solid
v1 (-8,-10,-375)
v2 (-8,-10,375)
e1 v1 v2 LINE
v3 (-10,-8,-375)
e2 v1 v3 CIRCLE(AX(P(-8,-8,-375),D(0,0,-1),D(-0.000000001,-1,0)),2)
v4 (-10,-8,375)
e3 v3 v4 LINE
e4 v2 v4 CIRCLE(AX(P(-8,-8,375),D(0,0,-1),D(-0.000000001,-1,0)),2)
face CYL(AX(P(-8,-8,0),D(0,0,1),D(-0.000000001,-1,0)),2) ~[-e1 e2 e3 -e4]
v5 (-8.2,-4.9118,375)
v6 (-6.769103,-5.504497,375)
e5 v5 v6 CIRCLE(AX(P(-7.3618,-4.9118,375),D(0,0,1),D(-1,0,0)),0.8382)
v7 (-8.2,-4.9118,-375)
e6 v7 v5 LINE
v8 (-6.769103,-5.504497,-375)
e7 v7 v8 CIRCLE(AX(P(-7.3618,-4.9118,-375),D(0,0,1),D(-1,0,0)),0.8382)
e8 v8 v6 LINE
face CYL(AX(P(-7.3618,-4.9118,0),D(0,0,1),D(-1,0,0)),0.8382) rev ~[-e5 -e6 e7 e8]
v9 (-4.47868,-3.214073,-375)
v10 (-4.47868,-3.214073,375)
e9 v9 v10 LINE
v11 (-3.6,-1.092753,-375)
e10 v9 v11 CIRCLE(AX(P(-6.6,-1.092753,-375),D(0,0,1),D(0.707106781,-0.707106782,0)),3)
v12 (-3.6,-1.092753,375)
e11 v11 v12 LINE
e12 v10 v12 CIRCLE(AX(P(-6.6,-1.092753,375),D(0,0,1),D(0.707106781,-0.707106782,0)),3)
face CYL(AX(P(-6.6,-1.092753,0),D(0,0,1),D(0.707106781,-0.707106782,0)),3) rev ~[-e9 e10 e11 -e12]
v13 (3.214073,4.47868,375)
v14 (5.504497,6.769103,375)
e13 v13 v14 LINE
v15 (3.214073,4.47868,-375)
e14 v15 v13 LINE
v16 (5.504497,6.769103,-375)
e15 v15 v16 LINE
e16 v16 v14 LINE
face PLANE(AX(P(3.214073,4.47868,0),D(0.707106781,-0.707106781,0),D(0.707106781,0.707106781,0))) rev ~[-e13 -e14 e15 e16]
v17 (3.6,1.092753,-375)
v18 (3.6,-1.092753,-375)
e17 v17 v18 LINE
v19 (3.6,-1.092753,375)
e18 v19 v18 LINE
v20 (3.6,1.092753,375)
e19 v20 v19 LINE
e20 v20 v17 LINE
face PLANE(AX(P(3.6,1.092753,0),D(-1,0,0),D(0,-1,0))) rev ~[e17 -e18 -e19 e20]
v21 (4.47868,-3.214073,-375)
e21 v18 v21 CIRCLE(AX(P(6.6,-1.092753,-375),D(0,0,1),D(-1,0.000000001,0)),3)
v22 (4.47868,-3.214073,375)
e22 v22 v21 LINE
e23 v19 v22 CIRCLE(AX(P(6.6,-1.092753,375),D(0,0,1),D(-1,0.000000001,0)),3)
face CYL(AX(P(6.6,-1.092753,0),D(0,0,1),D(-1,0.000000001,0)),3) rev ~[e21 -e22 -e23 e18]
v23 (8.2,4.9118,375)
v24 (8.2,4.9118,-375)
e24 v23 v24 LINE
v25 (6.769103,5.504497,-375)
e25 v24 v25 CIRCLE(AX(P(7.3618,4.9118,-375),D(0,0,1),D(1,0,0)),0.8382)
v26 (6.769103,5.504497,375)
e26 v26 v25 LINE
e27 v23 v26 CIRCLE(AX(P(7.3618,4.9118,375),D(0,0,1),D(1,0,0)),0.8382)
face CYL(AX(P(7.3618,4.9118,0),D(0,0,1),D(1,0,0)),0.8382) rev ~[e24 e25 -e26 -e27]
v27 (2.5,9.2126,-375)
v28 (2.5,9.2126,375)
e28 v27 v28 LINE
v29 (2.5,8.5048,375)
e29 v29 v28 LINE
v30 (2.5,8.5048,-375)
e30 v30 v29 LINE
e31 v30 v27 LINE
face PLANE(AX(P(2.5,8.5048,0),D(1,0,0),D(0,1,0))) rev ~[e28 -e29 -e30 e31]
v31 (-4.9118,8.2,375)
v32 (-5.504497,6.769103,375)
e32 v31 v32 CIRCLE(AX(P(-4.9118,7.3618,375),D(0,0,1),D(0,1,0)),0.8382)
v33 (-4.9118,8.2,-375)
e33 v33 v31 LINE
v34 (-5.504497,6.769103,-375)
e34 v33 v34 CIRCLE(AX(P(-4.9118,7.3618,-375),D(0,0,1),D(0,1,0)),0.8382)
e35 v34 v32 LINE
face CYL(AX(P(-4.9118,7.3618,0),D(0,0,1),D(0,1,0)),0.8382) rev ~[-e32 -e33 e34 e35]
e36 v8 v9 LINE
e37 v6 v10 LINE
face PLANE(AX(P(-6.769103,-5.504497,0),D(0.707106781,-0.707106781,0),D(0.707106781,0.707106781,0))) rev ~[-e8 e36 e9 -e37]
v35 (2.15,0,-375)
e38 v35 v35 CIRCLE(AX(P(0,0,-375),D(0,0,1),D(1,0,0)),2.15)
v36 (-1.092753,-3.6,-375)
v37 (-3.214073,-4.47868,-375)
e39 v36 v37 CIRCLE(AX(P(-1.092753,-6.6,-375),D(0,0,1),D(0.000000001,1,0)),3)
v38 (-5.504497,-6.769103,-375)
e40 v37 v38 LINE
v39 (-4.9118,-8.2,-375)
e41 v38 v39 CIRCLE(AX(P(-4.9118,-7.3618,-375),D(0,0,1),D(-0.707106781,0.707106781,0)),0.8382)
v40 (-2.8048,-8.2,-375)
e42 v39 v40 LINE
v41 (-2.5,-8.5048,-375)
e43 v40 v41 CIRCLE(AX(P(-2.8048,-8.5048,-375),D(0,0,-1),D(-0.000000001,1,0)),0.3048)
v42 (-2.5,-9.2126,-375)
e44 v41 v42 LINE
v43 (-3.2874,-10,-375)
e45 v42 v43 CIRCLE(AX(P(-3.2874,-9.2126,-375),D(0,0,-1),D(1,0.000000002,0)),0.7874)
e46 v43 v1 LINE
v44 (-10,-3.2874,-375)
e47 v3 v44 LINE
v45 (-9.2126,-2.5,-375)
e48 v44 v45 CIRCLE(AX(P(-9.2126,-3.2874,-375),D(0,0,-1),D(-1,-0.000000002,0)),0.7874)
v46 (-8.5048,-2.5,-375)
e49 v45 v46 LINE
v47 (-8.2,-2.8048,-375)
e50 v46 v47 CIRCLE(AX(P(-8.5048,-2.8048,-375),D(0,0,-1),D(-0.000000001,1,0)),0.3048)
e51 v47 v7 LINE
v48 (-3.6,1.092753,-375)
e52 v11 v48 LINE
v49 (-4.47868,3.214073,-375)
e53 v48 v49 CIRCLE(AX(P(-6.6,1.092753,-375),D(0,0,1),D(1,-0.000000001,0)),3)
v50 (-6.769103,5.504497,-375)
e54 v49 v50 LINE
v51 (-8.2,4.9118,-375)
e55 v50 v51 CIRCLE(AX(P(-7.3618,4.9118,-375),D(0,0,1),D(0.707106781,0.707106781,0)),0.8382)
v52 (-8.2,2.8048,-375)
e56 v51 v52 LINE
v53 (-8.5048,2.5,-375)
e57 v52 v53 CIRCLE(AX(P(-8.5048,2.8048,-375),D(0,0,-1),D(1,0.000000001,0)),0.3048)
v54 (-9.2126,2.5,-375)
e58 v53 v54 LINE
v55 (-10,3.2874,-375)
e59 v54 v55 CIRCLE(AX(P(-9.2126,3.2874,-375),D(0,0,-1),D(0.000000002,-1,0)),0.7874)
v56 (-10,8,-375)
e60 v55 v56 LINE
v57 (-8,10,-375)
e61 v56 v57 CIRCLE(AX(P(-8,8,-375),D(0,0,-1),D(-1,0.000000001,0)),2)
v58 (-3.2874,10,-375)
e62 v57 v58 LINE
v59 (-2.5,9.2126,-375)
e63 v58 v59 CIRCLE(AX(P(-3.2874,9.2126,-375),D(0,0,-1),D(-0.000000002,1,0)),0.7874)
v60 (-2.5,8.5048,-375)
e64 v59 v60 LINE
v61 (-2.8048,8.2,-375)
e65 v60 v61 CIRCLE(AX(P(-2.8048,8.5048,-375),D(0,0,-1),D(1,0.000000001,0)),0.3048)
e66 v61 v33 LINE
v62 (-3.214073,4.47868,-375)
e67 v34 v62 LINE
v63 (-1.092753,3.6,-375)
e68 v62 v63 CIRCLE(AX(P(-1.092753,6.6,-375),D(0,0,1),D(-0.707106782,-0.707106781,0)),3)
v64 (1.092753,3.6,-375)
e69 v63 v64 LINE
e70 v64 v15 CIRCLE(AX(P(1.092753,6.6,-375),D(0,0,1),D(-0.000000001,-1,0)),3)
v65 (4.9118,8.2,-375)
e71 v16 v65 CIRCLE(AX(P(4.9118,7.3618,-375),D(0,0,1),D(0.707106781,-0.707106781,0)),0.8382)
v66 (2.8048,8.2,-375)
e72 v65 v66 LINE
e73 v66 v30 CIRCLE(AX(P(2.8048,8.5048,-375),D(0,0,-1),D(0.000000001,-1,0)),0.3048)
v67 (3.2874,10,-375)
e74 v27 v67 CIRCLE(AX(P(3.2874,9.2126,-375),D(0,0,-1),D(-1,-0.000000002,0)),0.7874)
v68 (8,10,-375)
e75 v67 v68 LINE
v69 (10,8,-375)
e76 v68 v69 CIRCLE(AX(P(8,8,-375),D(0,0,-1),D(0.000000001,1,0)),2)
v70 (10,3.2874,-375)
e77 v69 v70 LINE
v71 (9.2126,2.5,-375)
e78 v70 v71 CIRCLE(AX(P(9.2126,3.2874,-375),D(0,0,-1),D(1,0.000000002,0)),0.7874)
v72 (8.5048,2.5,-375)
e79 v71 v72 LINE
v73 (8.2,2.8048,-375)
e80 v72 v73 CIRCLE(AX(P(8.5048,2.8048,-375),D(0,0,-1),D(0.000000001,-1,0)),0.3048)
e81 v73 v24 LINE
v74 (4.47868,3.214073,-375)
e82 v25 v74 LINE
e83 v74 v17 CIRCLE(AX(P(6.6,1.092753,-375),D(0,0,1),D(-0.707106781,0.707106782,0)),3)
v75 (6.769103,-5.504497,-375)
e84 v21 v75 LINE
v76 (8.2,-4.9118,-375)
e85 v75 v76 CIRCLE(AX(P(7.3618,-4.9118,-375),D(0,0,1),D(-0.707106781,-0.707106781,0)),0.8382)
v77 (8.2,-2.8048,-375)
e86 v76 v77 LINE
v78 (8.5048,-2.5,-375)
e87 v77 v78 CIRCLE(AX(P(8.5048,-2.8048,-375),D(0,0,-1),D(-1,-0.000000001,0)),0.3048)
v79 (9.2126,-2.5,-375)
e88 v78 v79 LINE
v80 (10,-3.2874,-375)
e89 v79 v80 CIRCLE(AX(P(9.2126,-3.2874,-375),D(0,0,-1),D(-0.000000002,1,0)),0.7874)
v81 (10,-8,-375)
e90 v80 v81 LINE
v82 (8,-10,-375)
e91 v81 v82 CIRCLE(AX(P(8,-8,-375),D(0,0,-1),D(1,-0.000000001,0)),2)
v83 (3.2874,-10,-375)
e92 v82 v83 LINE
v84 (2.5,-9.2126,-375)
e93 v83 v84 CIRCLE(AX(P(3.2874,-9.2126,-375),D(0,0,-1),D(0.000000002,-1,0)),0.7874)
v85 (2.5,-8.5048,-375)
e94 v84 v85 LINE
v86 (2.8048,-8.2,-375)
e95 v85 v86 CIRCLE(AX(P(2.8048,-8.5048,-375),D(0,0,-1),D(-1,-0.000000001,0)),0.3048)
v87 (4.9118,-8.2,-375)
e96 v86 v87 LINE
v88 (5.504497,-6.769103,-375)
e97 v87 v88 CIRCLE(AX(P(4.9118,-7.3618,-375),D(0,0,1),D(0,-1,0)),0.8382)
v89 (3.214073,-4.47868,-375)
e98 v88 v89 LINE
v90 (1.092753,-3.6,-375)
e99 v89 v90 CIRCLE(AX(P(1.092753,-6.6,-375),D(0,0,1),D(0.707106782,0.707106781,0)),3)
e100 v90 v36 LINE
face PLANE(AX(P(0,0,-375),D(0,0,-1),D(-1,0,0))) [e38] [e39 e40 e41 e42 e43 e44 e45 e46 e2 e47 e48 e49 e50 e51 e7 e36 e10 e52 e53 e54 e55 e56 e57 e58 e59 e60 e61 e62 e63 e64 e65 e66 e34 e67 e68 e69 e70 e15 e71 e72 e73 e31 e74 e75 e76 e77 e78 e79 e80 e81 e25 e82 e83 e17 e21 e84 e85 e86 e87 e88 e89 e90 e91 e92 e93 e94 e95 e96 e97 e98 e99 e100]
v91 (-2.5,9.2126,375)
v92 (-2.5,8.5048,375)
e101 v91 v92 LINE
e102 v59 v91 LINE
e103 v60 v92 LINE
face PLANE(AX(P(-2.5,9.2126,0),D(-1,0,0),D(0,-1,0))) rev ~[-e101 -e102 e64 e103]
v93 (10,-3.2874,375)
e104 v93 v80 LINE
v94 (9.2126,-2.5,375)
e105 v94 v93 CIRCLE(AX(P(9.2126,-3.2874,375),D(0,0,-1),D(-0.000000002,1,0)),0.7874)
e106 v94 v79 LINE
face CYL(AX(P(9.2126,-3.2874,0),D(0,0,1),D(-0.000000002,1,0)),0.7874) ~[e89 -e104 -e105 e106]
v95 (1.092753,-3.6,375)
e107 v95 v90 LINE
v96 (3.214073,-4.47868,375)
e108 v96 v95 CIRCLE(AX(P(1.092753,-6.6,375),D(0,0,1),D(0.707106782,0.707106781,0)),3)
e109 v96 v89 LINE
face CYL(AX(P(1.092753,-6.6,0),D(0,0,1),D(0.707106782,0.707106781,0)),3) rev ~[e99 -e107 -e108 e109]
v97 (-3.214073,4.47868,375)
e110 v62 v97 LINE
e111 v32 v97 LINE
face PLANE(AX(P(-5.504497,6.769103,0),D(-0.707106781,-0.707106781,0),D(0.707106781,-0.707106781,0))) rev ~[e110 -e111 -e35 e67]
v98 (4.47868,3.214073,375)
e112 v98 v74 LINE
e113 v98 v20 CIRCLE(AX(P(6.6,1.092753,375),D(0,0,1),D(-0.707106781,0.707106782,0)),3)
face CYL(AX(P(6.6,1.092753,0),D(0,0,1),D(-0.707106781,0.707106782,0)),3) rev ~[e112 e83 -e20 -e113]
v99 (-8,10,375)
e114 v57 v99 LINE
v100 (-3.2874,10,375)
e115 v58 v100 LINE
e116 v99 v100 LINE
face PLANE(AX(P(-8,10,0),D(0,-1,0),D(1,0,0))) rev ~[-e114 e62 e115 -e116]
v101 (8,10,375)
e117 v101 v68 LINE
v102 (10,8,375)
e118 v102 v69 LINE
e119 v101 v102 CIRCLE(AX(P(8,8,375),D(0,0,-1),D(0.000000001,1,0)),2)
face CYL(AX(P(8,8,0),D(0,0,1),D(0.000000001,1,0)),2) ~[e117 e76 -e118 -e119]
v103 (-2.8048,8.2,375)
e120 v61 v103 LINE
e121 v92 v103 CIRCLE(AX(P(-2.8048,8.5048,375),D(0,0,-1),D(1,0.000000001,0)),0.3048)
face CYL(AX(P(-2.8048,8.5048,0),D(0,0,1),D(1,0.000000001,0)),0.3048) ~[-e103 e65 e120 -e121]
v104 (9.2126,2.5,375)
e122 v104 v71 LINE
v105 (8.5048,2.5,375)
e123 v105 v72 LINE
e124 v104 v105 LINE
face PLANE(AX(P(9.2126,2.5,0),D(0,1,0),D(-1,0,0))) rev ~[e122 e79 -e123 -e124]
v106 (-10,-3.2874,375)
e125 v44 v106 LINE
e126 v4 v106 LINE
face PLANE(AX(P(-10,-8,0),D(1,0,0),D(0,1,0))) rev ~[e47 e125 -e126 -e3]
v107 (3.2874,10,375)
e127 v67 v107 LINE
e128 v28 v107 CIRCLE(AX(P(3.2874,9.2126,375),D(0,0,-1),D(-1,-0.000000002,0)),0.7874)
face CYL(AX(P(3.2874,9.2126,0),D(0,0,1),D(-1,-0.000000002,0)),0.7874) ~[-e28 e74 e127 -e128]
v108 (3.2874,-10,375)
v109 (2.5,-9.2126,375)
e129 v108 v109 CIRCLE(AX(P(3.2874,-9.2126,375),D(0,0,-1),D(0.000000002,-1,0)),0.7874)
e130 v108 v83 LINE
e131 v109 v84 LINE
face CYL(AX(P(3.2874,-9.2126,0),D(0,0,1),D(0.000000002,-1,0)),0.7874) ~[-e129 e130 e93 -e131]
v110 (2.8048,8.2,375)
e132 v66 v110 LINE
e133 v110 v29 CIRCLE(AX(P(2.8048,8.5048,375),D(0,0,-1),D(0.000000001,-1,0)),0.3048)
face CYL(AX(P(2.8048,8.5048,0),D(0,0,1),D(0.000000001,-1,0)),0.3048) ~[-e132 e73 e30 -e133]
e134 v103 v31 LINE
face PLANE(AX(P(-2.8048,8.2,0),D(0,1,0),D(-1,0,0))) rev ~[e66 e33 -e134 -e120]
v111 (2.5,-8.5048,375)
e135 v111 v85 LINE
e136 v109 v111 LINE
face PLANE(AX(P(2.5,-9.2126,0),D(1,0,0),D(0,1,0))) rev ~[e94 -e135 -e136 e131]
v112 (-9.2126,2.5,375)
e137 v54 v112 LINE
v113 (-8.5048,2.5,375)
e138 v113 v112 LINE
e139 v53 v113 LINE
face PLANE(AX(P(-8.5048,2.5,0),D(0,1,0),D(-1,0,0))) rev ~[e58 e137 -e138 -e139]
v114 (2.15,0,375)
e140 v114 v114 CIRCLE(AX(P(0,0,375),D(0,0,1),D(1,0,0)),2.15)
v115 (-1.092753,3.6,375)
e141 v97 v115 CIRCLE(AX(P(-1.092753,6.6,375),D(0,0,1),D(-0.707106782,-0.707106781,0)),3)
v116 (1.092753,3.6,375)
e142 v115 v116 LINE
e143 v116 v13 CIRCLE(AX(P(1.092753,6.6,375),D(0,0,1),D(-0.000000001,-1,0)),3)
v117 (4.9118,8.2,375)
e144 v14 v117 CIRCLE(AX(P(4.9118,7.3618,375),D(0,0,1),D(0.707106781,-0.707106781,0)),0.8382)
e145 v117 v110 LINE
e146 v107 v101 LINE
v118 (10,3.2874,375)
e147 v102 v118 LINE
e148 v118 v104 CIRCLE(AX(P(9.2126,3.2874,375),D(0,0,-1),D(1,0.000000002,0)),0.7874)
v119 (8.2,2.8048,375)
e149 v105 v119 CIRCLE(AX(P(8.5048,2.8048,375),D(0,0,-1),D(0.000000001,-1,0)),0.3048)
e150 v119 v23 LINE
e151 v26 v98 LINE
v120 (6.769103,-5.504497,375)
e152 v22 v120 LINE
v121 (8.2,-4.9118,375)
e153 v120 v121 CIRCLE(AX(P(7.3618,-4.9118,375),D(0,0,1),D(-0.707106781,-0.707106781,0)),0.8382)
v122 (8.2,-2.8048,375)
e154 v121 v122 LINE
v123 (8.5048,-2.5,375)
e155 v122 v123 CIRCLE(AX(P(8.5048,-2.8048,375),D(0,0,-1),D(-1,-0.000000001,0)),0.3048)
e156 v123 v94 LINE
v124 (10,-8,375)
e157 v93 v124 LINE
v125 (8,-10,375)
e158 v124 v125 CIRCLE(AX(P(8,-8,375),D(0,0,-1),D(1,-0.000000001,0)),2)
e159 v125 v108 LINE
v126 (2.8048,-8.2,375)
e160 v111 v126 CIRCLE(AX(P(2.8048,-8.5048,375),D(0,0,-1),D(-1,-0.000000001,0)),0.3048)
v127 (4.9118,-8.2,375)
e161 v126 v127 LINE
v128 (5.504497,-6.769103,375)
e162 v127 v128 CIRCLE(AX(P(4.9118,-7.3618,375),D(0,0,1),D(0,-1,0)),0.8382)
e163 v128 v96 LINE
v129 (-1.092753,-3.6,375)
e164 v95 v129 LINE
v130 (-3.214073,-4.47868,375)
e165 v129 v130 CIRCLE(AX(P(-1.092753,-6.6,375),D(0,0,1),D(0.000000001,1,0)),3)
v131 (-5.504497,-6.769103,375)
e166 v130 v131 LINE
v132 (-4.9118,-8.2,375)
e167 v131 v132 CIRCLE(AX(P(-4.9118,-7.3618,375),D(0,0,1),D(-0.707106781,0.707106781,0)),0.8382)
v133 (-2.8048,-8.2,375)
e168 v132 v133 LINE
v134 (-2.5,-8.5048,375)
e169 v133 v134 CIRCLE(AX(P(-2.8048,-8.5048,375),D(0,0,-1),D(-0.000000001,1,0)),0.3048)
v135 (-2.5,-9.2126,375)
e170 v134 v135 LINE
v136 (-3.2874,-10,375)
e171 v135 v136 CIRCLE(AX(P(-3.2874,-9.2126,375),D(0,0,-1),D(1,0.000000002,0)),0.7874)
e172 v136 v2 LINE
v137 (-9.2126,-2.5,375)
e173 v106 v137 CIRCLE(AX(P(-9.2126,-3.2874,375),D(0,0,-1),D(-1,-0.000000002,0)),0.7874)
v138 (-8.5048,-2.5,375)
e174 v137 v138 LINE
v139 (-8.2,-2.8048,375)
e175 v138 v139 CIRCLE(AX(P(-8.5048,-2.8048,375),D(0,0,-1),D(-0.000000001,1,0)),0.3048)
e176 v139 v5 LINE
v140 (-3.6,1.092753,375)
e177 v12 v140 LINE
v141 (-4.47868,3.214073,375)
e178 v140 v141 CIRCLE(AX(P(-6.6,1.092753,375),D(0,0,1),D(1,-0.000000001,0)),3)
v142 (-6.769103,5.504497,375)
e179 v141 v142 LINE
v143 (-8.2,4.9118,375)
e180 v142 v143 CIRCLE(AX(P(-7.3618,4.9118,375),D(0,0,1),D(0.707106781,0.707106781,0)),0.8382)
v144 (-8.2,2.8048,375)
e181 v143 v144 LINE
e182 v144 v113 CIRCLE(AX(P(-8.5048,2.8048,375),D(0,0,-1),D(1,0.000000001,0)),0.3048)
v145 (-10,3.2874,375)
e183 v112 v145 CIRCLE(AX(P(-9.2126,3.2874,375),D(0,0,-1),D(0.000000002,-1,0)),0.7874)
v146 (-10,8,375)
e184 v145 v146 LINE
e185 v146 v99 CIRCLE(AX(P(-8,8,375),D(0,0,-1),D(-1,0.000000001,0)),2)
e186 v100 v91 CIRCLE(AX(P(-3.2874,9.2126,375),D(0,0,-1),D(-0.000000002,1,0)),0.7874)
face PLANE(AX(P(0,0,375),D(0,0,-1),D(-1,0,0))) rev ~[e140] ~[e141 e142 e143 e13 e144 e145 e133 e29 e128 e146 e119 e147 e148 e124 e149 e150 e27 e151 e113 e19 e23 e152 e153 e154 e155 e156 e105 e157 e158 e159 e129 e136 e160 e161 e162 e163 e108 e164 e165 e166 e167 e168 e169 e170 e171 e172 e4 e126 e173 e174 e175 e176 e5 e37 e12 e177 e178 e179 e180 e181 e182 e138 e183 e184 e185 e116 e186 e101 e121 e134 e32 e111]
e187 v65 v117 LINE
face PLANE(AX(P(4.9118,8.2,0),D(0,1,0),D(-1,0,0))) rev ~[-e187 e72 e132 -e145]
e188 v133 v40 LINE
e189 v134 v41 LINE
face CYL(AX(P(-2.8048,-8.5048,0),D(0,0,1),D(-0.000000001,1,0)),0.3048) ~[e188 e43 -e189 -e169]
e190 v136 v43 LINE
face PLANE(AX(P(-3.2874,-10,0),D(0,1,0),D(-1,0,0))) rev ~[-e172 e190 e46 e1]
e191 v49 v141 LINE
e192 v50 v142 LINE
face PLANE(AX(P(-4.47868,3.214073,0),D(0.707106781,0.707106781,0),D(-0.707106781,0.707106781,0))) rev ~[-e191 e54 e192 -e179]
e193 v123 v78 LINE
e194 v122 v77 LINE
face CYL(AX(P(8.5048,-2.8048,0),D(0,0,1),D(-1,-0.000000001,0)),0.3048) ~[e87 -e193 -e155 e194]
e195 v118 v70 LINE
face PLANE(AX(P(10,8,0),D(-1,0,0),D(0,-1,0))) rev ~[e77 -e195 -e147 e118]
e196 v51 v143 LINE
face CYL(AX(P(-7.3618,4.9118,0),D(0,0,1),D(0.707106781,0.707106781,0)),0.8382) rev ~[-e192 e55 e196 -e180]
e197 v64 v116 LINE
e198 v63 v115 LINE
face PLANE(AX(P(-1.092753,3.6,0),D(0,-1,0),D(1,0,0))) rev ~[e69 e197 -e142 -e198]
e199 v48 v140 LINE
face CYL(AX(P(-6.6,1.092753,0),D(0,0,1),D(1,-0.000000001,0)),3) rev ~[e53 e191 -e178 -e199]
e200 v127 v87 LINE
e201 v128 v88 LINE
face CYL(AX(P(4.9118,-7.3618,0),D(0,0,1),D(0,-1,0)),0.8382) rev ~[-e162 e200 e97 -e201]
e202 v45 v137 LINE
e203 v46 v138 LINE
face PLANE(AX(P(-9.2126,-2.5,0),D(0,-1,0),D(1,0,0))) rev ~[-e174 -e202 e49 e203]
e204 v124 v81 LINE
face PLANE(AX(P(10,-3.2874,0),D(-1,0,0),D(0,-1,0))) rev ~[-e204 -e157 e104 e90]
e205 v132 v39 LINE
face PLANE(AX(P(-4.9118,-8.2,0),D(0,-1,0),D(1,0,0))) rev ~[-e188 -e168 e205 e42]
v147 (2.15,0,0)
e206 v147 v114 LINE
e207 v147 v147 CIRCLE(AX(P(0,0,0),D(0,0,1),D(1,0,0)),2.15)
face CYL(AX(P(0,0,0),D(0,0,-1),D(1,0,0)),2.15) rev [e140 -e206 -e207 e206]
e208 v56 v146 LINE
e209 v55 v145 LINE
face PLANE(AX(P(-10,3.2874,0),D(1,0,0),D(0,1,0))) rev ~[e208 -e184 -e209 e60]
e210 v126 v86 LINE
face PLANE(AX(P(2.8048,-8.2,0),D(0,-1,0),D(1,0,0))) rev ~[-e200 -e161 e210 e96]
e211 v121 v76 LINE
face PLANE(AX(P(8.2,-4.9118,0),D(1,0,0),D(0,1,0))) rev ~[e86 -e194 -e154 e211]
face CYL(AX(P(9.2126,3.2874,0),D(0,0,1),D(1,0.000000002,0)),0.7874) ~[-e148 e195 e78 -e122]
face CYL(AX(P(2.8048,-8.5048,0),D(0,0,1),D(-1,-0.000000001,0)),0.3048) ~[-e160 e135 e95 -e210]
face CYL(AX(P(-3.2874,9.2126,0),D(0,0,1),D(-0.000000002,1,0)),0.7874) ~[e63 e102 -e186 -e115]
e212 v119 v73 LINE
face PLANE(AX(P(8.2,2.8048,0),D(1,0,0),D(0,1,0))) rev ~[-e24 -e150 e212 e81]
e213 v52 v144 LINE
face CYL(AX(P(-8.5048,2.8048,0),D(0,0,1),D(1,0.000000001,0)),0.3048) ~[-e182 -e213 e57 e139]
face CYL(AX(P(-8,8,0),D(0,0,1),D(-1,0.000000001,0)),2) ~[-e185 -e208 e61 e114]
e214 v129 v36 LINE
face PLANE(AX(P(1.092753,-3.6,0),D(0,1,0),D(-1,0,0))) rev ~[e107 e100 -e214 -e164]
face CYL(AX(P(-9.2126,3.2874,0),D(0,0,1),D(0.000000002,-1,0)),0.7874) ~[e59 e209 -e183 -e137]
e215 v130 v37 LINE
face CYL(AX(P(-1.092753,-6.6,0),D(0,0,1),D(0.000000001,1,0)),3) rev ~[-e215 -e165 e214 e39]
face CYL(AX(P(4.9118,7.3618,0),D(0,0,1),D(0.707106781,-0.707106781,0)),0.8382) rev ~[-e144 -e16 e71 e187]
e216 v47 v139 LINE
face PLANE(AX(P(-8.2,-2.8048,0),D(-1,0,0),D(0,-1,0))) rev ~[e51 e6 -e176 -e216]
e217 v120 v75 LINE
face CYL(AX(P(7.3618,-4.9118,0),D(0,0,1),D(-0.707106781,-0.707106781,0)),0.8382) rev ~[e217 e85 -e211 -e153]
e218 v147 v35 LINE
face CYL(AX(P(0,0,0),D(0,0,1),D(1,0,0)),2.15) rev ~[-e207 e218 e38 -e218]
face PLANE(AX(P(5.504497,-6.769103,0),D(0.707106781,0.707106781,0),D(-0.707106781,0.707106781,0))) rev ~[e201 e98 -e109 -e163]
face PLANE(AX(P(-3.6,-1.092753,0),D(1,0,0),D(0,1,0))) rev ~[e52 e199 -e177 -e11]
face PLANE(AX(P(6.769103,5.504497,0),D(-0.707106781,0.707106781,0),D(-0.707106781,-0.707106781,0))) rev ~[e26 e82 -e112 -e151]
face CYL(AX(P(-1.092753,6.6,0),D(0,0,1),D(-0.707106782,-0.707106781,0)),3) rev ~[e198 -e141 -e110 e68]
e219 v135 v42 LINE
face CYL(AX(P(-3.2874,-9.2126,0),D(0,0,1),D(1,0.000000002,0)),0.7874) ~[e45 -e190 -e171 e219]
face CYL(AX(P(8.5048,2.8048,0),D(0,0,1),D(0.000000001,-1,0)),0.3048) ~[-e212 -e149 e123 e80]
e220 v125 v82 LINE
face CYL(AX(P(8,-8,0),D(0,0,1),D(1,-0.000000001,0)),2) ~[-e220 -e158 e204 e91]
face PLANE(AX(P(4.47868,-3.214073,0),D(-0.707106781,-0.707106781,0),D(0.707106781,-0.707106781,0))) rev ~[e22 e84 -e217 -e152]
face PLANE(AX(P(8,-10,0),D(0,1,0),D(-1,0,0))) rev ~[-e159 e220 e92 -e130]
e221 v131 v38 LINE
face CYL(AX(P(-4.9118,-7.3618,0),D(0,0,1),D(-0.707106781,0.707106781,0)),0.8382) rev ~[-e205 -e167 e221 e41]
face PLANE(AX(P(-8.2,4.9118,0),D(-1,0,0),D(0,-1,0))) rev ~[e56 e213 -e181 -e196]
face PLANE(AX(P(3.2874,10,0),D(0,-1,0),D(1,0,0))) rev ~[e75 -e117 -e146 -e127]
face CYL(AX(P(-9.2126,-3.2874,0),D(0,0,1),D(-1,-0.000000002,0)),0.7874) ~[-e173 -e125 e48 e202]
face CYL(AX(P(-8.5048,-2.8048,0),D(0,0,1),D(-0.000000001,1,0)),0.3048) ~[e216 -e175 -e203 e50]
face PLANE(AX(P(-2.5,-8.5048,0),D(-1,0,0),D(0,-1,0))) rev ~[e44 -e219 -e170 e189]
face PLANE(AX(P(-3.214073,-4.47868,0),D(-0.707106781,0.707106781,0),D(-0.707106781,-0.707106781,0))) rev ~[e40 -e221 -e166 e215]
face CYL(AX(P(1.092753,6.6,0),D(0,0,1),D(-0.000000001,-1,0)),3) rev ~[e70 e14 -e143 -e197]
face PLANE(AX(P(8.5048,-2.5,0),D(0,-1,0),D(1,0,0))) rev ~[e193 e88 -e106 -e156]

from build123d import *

# Parameters (mm, degrees)
SKETCH3_R                = 2.15
BOSS_EXTRUDE1_DEPTH      = 375
BOSS_EXTRUDE1_DEPTH_BACK = 375


with BuildPart() as part:
    # Sketch3 → Boss-Extrude1 (new body, two sides)
    with BuildSketch(Plane.XY) as boss_extrude1_sk:
        with BuildLine():
            Line((3.2874, 10), (8, 10))
            ThreePointArc((8, 10), (9.414213562, 9.414213562), (10, 8))
            Line((10, 8), (10, 3.2874))
            ThreePointArc((10, 3.2874), (9.76937588, 2.73062412), (9.2126, 2.5))
            Line((9.2126, 2.5), (8.5048, 2.5))
            ThreePointArc((8.5048, 2.5), (8.289273853, 2.589273853), (8.2, 2.8048))
            Line((8.2, 2.8048), (8.2, 4.9118))
            ThreePointArc((8.2, 4.9118), (7.682565253, 5.686195824), (6.769103096, 5.504496904))
            Line((6.769103096, 5.504496904), (4.478679656, 3.214073464))
            ThreePointArc((4.478679656, 3.214073464), (3.828361402, 2.240803418), (3.6, 1.092753121))
            Line((3.6, 1.092753121), (3.6, -1.092753121))
            ThreePointArc((3.6, -1.092753121), (3.828361402, -2.240803418), (4.478679656, -3.214073464))
            Line((4.478679656, -3.214073464), (6.769103096, -5.504496904))
            ThreePointArc((6.769103096, -5.504496904), (7.682565253, -5.686195824), (8.2, -4.9118))
            Line((8.2, -4.9118), (8.2, -2.8048))
            ThreePointArc((8.2, -2.8048), (8.289273853, -2.589273853), (8.5048, -2.5))
            Line((8.5048, -2.5), (9.2126, -2.5))
            ThreePointArc((9.2126, -2.5), (9.76937588, -2.73062412), (10, -3.2874))
            Line((10, -3.2874), (10, -8))
            ThreePointArc((10, -8), (9.414213562, -9.414213562), (8, -10))
            Line((8, -10), (3.2874, -10))
            ThreePointArc((3.2874, -10), (2.73062412, -9.76937588), (2.5, -9.2126))
            Line((2.5, -9.2126), (2.5, -8.5048))
            ThreePointArc((2.5, -8.5048), (2.589273853, -8.289273853), (2.8048, -8.2))
            Line((2.8048, -8.2), (4.9118, -8.2))
            ThreePointArc((4.9118, -8.2), (5.686195824, -7.682565253), (5.504496904, -6.769103096))
            Line((5.504496904, -6.769103096), (3.214073464, -4.478679656))
            ThreePointArc((3.214073464, -4.478679656), (2.240803418, -3.828361402), (1.092753121, -3.6))
            Line((1.092753121, -3.6), (-1.092753121, -3.6))
            ThreePointArc((-1.092753121, -3.6), (-2.240803418, -3.828361402), (-3.214073464, -4.478679656))
            Line((-3.214073464, -4.478679656), (-5.504496904, -6.769103096))
            ThreePointArc((-5.504496904, -6.769103096), (-5.686195824, -7.682565253), (-4.9118, -8.2))
            Line((-4.9118, -8.2), (-2.8048, -8.2))
            ThreePointArc((-2.8048, -8.2), (-2.589273853, -8.289273853), (-2.5, -8.5048))
            Line((-2.5, -8.5048), (-2.5, -9.2126))
            ThreePointArc((-2.5, -9.2126), (-2.73062412, -9.76937588), (-3.2874, -10))
            Line((-3.2874, -10), (-8, -10))
            ThreePointArc((-8, -10), (-9.414213562, -9.414213562), (-10, -8))
            Line((-10, -8), (-10, -3.2874))
            ThreePointArc((-10, -3.2874), (-9.76937588, -2.73062412), (-9.2126, -2.5))
            Line((-9.2126, -2.5), (-8.5048, -2.5))
            ThreePointArc((-8.5048, -2.5), (-8.289273853, -2.589273853), (-8.2, -2.8048))
            Line((-8.2, -2.8048), (-8.2, -4.9118))
            ThreePointArc((-8.2, -4.9118), (-7.682565253, -5.686195824), (-6.769103096, -5.504496904))
            Line((-6.769103096, -5.504496904), (-4.478679656, -3.214073464))
            ThreePointArc((-4.478679656, -3.214073464), (-3.828361402, -2.240803418), (-3.6, -1.092753121))
            Line((-3.6, -1.092753121), (-3.6, 1.092753121))
            ThreePointArc((-3.6, 1.092753121), (-3.828361402, 2.240803418), (-4.478679656, 3.214073464))
            Line((-4.478679656, 3.214073464), (-6.769103096, 5.504496904))
            ThreePointArc((-6.769103096, 5.504496904), (-7.682565253, 5.686195824), (-8.2, 4.9118))
            Line((-8.2, 4.9118), (-8.2, 2.8048))
            ThreePointArc((-8.2, 2.8048), (-8.289273853, 2.589273853), (-8.5048, 2.5))
            Line((-8.5048, 2.5), (-9.2126, 2.5))
            ThreePointArc((-9.2126, 2.5), (-9.76937588, 2.73062412), (-10, 3.2874))
            Line((-10, 3.2874), (-10, 8))
            ThreePointArc((-10, 8), (-9.414213562, 9.414213562), (-8, 10))
            Line((-8, 10), (-3.2874, 10))
            ThreePointArc((-3.2874, 10), (-2.73062412, 9.76937588), (-2.5, 9.2126))
            Line((-2.5, 9.2126), (-2.5, 8.5048))
            ThreePointArc((-2.5, 8.5048), (-2.589273853, 8.289273853), (-2.8048, 8.2))
            Line((-2.8048, 8.2), (-4.9118, 8.2))
            ThreePointArc((-4.9118, 8.2), (-5.686195824, 7.682565253), (-5.504496904, 6.769103096))
            Line((-5.504496904, 6.769103096), (-3.214073464, 4.478679656))
            ThreePointArc((-3.214073464, 4.478679656), (-2.240803418, 3.828361402), (-1.092753121, 3.6))
            Line((-1.092753121, 3.6), (1.092753121, 3.6))
            ThreePointArc((1.092753121, 3.6), (2.240803418, 3.828361402), (3.214073464, 4.478679656))
            Line((3.214073464, 4.478679656), (5.504496904, 6.769103096))
            ThreePointArc((5.504496904, 6.769103096), (5.686195824, 7.682565253), (4.9118, 8.2))
            Line((4.9118, 8.2), (2.8048, 8.2))
            ThreePointArc((2.8048, 8.2), (2.589273853, 8.289273853), (2.5, 8.5048))
            Line((2.5, 8.5048), (2.5, 9.2126))
            ThreePointArc((2.5, 9.2126), (2.73062412, 9.76937588), (3.2874, 10))
        make_face()
        Circle(SKETCH3_R, mode=Mode.SUBTRACT)
    extrude(amount=BOSS_EXTRUDE1_DEPTH)
    extrude(boss_extrude1_sk.sketch, amount=-BOSS_EXTRUDE1_DEPTH_BACK)


solid = part.part
